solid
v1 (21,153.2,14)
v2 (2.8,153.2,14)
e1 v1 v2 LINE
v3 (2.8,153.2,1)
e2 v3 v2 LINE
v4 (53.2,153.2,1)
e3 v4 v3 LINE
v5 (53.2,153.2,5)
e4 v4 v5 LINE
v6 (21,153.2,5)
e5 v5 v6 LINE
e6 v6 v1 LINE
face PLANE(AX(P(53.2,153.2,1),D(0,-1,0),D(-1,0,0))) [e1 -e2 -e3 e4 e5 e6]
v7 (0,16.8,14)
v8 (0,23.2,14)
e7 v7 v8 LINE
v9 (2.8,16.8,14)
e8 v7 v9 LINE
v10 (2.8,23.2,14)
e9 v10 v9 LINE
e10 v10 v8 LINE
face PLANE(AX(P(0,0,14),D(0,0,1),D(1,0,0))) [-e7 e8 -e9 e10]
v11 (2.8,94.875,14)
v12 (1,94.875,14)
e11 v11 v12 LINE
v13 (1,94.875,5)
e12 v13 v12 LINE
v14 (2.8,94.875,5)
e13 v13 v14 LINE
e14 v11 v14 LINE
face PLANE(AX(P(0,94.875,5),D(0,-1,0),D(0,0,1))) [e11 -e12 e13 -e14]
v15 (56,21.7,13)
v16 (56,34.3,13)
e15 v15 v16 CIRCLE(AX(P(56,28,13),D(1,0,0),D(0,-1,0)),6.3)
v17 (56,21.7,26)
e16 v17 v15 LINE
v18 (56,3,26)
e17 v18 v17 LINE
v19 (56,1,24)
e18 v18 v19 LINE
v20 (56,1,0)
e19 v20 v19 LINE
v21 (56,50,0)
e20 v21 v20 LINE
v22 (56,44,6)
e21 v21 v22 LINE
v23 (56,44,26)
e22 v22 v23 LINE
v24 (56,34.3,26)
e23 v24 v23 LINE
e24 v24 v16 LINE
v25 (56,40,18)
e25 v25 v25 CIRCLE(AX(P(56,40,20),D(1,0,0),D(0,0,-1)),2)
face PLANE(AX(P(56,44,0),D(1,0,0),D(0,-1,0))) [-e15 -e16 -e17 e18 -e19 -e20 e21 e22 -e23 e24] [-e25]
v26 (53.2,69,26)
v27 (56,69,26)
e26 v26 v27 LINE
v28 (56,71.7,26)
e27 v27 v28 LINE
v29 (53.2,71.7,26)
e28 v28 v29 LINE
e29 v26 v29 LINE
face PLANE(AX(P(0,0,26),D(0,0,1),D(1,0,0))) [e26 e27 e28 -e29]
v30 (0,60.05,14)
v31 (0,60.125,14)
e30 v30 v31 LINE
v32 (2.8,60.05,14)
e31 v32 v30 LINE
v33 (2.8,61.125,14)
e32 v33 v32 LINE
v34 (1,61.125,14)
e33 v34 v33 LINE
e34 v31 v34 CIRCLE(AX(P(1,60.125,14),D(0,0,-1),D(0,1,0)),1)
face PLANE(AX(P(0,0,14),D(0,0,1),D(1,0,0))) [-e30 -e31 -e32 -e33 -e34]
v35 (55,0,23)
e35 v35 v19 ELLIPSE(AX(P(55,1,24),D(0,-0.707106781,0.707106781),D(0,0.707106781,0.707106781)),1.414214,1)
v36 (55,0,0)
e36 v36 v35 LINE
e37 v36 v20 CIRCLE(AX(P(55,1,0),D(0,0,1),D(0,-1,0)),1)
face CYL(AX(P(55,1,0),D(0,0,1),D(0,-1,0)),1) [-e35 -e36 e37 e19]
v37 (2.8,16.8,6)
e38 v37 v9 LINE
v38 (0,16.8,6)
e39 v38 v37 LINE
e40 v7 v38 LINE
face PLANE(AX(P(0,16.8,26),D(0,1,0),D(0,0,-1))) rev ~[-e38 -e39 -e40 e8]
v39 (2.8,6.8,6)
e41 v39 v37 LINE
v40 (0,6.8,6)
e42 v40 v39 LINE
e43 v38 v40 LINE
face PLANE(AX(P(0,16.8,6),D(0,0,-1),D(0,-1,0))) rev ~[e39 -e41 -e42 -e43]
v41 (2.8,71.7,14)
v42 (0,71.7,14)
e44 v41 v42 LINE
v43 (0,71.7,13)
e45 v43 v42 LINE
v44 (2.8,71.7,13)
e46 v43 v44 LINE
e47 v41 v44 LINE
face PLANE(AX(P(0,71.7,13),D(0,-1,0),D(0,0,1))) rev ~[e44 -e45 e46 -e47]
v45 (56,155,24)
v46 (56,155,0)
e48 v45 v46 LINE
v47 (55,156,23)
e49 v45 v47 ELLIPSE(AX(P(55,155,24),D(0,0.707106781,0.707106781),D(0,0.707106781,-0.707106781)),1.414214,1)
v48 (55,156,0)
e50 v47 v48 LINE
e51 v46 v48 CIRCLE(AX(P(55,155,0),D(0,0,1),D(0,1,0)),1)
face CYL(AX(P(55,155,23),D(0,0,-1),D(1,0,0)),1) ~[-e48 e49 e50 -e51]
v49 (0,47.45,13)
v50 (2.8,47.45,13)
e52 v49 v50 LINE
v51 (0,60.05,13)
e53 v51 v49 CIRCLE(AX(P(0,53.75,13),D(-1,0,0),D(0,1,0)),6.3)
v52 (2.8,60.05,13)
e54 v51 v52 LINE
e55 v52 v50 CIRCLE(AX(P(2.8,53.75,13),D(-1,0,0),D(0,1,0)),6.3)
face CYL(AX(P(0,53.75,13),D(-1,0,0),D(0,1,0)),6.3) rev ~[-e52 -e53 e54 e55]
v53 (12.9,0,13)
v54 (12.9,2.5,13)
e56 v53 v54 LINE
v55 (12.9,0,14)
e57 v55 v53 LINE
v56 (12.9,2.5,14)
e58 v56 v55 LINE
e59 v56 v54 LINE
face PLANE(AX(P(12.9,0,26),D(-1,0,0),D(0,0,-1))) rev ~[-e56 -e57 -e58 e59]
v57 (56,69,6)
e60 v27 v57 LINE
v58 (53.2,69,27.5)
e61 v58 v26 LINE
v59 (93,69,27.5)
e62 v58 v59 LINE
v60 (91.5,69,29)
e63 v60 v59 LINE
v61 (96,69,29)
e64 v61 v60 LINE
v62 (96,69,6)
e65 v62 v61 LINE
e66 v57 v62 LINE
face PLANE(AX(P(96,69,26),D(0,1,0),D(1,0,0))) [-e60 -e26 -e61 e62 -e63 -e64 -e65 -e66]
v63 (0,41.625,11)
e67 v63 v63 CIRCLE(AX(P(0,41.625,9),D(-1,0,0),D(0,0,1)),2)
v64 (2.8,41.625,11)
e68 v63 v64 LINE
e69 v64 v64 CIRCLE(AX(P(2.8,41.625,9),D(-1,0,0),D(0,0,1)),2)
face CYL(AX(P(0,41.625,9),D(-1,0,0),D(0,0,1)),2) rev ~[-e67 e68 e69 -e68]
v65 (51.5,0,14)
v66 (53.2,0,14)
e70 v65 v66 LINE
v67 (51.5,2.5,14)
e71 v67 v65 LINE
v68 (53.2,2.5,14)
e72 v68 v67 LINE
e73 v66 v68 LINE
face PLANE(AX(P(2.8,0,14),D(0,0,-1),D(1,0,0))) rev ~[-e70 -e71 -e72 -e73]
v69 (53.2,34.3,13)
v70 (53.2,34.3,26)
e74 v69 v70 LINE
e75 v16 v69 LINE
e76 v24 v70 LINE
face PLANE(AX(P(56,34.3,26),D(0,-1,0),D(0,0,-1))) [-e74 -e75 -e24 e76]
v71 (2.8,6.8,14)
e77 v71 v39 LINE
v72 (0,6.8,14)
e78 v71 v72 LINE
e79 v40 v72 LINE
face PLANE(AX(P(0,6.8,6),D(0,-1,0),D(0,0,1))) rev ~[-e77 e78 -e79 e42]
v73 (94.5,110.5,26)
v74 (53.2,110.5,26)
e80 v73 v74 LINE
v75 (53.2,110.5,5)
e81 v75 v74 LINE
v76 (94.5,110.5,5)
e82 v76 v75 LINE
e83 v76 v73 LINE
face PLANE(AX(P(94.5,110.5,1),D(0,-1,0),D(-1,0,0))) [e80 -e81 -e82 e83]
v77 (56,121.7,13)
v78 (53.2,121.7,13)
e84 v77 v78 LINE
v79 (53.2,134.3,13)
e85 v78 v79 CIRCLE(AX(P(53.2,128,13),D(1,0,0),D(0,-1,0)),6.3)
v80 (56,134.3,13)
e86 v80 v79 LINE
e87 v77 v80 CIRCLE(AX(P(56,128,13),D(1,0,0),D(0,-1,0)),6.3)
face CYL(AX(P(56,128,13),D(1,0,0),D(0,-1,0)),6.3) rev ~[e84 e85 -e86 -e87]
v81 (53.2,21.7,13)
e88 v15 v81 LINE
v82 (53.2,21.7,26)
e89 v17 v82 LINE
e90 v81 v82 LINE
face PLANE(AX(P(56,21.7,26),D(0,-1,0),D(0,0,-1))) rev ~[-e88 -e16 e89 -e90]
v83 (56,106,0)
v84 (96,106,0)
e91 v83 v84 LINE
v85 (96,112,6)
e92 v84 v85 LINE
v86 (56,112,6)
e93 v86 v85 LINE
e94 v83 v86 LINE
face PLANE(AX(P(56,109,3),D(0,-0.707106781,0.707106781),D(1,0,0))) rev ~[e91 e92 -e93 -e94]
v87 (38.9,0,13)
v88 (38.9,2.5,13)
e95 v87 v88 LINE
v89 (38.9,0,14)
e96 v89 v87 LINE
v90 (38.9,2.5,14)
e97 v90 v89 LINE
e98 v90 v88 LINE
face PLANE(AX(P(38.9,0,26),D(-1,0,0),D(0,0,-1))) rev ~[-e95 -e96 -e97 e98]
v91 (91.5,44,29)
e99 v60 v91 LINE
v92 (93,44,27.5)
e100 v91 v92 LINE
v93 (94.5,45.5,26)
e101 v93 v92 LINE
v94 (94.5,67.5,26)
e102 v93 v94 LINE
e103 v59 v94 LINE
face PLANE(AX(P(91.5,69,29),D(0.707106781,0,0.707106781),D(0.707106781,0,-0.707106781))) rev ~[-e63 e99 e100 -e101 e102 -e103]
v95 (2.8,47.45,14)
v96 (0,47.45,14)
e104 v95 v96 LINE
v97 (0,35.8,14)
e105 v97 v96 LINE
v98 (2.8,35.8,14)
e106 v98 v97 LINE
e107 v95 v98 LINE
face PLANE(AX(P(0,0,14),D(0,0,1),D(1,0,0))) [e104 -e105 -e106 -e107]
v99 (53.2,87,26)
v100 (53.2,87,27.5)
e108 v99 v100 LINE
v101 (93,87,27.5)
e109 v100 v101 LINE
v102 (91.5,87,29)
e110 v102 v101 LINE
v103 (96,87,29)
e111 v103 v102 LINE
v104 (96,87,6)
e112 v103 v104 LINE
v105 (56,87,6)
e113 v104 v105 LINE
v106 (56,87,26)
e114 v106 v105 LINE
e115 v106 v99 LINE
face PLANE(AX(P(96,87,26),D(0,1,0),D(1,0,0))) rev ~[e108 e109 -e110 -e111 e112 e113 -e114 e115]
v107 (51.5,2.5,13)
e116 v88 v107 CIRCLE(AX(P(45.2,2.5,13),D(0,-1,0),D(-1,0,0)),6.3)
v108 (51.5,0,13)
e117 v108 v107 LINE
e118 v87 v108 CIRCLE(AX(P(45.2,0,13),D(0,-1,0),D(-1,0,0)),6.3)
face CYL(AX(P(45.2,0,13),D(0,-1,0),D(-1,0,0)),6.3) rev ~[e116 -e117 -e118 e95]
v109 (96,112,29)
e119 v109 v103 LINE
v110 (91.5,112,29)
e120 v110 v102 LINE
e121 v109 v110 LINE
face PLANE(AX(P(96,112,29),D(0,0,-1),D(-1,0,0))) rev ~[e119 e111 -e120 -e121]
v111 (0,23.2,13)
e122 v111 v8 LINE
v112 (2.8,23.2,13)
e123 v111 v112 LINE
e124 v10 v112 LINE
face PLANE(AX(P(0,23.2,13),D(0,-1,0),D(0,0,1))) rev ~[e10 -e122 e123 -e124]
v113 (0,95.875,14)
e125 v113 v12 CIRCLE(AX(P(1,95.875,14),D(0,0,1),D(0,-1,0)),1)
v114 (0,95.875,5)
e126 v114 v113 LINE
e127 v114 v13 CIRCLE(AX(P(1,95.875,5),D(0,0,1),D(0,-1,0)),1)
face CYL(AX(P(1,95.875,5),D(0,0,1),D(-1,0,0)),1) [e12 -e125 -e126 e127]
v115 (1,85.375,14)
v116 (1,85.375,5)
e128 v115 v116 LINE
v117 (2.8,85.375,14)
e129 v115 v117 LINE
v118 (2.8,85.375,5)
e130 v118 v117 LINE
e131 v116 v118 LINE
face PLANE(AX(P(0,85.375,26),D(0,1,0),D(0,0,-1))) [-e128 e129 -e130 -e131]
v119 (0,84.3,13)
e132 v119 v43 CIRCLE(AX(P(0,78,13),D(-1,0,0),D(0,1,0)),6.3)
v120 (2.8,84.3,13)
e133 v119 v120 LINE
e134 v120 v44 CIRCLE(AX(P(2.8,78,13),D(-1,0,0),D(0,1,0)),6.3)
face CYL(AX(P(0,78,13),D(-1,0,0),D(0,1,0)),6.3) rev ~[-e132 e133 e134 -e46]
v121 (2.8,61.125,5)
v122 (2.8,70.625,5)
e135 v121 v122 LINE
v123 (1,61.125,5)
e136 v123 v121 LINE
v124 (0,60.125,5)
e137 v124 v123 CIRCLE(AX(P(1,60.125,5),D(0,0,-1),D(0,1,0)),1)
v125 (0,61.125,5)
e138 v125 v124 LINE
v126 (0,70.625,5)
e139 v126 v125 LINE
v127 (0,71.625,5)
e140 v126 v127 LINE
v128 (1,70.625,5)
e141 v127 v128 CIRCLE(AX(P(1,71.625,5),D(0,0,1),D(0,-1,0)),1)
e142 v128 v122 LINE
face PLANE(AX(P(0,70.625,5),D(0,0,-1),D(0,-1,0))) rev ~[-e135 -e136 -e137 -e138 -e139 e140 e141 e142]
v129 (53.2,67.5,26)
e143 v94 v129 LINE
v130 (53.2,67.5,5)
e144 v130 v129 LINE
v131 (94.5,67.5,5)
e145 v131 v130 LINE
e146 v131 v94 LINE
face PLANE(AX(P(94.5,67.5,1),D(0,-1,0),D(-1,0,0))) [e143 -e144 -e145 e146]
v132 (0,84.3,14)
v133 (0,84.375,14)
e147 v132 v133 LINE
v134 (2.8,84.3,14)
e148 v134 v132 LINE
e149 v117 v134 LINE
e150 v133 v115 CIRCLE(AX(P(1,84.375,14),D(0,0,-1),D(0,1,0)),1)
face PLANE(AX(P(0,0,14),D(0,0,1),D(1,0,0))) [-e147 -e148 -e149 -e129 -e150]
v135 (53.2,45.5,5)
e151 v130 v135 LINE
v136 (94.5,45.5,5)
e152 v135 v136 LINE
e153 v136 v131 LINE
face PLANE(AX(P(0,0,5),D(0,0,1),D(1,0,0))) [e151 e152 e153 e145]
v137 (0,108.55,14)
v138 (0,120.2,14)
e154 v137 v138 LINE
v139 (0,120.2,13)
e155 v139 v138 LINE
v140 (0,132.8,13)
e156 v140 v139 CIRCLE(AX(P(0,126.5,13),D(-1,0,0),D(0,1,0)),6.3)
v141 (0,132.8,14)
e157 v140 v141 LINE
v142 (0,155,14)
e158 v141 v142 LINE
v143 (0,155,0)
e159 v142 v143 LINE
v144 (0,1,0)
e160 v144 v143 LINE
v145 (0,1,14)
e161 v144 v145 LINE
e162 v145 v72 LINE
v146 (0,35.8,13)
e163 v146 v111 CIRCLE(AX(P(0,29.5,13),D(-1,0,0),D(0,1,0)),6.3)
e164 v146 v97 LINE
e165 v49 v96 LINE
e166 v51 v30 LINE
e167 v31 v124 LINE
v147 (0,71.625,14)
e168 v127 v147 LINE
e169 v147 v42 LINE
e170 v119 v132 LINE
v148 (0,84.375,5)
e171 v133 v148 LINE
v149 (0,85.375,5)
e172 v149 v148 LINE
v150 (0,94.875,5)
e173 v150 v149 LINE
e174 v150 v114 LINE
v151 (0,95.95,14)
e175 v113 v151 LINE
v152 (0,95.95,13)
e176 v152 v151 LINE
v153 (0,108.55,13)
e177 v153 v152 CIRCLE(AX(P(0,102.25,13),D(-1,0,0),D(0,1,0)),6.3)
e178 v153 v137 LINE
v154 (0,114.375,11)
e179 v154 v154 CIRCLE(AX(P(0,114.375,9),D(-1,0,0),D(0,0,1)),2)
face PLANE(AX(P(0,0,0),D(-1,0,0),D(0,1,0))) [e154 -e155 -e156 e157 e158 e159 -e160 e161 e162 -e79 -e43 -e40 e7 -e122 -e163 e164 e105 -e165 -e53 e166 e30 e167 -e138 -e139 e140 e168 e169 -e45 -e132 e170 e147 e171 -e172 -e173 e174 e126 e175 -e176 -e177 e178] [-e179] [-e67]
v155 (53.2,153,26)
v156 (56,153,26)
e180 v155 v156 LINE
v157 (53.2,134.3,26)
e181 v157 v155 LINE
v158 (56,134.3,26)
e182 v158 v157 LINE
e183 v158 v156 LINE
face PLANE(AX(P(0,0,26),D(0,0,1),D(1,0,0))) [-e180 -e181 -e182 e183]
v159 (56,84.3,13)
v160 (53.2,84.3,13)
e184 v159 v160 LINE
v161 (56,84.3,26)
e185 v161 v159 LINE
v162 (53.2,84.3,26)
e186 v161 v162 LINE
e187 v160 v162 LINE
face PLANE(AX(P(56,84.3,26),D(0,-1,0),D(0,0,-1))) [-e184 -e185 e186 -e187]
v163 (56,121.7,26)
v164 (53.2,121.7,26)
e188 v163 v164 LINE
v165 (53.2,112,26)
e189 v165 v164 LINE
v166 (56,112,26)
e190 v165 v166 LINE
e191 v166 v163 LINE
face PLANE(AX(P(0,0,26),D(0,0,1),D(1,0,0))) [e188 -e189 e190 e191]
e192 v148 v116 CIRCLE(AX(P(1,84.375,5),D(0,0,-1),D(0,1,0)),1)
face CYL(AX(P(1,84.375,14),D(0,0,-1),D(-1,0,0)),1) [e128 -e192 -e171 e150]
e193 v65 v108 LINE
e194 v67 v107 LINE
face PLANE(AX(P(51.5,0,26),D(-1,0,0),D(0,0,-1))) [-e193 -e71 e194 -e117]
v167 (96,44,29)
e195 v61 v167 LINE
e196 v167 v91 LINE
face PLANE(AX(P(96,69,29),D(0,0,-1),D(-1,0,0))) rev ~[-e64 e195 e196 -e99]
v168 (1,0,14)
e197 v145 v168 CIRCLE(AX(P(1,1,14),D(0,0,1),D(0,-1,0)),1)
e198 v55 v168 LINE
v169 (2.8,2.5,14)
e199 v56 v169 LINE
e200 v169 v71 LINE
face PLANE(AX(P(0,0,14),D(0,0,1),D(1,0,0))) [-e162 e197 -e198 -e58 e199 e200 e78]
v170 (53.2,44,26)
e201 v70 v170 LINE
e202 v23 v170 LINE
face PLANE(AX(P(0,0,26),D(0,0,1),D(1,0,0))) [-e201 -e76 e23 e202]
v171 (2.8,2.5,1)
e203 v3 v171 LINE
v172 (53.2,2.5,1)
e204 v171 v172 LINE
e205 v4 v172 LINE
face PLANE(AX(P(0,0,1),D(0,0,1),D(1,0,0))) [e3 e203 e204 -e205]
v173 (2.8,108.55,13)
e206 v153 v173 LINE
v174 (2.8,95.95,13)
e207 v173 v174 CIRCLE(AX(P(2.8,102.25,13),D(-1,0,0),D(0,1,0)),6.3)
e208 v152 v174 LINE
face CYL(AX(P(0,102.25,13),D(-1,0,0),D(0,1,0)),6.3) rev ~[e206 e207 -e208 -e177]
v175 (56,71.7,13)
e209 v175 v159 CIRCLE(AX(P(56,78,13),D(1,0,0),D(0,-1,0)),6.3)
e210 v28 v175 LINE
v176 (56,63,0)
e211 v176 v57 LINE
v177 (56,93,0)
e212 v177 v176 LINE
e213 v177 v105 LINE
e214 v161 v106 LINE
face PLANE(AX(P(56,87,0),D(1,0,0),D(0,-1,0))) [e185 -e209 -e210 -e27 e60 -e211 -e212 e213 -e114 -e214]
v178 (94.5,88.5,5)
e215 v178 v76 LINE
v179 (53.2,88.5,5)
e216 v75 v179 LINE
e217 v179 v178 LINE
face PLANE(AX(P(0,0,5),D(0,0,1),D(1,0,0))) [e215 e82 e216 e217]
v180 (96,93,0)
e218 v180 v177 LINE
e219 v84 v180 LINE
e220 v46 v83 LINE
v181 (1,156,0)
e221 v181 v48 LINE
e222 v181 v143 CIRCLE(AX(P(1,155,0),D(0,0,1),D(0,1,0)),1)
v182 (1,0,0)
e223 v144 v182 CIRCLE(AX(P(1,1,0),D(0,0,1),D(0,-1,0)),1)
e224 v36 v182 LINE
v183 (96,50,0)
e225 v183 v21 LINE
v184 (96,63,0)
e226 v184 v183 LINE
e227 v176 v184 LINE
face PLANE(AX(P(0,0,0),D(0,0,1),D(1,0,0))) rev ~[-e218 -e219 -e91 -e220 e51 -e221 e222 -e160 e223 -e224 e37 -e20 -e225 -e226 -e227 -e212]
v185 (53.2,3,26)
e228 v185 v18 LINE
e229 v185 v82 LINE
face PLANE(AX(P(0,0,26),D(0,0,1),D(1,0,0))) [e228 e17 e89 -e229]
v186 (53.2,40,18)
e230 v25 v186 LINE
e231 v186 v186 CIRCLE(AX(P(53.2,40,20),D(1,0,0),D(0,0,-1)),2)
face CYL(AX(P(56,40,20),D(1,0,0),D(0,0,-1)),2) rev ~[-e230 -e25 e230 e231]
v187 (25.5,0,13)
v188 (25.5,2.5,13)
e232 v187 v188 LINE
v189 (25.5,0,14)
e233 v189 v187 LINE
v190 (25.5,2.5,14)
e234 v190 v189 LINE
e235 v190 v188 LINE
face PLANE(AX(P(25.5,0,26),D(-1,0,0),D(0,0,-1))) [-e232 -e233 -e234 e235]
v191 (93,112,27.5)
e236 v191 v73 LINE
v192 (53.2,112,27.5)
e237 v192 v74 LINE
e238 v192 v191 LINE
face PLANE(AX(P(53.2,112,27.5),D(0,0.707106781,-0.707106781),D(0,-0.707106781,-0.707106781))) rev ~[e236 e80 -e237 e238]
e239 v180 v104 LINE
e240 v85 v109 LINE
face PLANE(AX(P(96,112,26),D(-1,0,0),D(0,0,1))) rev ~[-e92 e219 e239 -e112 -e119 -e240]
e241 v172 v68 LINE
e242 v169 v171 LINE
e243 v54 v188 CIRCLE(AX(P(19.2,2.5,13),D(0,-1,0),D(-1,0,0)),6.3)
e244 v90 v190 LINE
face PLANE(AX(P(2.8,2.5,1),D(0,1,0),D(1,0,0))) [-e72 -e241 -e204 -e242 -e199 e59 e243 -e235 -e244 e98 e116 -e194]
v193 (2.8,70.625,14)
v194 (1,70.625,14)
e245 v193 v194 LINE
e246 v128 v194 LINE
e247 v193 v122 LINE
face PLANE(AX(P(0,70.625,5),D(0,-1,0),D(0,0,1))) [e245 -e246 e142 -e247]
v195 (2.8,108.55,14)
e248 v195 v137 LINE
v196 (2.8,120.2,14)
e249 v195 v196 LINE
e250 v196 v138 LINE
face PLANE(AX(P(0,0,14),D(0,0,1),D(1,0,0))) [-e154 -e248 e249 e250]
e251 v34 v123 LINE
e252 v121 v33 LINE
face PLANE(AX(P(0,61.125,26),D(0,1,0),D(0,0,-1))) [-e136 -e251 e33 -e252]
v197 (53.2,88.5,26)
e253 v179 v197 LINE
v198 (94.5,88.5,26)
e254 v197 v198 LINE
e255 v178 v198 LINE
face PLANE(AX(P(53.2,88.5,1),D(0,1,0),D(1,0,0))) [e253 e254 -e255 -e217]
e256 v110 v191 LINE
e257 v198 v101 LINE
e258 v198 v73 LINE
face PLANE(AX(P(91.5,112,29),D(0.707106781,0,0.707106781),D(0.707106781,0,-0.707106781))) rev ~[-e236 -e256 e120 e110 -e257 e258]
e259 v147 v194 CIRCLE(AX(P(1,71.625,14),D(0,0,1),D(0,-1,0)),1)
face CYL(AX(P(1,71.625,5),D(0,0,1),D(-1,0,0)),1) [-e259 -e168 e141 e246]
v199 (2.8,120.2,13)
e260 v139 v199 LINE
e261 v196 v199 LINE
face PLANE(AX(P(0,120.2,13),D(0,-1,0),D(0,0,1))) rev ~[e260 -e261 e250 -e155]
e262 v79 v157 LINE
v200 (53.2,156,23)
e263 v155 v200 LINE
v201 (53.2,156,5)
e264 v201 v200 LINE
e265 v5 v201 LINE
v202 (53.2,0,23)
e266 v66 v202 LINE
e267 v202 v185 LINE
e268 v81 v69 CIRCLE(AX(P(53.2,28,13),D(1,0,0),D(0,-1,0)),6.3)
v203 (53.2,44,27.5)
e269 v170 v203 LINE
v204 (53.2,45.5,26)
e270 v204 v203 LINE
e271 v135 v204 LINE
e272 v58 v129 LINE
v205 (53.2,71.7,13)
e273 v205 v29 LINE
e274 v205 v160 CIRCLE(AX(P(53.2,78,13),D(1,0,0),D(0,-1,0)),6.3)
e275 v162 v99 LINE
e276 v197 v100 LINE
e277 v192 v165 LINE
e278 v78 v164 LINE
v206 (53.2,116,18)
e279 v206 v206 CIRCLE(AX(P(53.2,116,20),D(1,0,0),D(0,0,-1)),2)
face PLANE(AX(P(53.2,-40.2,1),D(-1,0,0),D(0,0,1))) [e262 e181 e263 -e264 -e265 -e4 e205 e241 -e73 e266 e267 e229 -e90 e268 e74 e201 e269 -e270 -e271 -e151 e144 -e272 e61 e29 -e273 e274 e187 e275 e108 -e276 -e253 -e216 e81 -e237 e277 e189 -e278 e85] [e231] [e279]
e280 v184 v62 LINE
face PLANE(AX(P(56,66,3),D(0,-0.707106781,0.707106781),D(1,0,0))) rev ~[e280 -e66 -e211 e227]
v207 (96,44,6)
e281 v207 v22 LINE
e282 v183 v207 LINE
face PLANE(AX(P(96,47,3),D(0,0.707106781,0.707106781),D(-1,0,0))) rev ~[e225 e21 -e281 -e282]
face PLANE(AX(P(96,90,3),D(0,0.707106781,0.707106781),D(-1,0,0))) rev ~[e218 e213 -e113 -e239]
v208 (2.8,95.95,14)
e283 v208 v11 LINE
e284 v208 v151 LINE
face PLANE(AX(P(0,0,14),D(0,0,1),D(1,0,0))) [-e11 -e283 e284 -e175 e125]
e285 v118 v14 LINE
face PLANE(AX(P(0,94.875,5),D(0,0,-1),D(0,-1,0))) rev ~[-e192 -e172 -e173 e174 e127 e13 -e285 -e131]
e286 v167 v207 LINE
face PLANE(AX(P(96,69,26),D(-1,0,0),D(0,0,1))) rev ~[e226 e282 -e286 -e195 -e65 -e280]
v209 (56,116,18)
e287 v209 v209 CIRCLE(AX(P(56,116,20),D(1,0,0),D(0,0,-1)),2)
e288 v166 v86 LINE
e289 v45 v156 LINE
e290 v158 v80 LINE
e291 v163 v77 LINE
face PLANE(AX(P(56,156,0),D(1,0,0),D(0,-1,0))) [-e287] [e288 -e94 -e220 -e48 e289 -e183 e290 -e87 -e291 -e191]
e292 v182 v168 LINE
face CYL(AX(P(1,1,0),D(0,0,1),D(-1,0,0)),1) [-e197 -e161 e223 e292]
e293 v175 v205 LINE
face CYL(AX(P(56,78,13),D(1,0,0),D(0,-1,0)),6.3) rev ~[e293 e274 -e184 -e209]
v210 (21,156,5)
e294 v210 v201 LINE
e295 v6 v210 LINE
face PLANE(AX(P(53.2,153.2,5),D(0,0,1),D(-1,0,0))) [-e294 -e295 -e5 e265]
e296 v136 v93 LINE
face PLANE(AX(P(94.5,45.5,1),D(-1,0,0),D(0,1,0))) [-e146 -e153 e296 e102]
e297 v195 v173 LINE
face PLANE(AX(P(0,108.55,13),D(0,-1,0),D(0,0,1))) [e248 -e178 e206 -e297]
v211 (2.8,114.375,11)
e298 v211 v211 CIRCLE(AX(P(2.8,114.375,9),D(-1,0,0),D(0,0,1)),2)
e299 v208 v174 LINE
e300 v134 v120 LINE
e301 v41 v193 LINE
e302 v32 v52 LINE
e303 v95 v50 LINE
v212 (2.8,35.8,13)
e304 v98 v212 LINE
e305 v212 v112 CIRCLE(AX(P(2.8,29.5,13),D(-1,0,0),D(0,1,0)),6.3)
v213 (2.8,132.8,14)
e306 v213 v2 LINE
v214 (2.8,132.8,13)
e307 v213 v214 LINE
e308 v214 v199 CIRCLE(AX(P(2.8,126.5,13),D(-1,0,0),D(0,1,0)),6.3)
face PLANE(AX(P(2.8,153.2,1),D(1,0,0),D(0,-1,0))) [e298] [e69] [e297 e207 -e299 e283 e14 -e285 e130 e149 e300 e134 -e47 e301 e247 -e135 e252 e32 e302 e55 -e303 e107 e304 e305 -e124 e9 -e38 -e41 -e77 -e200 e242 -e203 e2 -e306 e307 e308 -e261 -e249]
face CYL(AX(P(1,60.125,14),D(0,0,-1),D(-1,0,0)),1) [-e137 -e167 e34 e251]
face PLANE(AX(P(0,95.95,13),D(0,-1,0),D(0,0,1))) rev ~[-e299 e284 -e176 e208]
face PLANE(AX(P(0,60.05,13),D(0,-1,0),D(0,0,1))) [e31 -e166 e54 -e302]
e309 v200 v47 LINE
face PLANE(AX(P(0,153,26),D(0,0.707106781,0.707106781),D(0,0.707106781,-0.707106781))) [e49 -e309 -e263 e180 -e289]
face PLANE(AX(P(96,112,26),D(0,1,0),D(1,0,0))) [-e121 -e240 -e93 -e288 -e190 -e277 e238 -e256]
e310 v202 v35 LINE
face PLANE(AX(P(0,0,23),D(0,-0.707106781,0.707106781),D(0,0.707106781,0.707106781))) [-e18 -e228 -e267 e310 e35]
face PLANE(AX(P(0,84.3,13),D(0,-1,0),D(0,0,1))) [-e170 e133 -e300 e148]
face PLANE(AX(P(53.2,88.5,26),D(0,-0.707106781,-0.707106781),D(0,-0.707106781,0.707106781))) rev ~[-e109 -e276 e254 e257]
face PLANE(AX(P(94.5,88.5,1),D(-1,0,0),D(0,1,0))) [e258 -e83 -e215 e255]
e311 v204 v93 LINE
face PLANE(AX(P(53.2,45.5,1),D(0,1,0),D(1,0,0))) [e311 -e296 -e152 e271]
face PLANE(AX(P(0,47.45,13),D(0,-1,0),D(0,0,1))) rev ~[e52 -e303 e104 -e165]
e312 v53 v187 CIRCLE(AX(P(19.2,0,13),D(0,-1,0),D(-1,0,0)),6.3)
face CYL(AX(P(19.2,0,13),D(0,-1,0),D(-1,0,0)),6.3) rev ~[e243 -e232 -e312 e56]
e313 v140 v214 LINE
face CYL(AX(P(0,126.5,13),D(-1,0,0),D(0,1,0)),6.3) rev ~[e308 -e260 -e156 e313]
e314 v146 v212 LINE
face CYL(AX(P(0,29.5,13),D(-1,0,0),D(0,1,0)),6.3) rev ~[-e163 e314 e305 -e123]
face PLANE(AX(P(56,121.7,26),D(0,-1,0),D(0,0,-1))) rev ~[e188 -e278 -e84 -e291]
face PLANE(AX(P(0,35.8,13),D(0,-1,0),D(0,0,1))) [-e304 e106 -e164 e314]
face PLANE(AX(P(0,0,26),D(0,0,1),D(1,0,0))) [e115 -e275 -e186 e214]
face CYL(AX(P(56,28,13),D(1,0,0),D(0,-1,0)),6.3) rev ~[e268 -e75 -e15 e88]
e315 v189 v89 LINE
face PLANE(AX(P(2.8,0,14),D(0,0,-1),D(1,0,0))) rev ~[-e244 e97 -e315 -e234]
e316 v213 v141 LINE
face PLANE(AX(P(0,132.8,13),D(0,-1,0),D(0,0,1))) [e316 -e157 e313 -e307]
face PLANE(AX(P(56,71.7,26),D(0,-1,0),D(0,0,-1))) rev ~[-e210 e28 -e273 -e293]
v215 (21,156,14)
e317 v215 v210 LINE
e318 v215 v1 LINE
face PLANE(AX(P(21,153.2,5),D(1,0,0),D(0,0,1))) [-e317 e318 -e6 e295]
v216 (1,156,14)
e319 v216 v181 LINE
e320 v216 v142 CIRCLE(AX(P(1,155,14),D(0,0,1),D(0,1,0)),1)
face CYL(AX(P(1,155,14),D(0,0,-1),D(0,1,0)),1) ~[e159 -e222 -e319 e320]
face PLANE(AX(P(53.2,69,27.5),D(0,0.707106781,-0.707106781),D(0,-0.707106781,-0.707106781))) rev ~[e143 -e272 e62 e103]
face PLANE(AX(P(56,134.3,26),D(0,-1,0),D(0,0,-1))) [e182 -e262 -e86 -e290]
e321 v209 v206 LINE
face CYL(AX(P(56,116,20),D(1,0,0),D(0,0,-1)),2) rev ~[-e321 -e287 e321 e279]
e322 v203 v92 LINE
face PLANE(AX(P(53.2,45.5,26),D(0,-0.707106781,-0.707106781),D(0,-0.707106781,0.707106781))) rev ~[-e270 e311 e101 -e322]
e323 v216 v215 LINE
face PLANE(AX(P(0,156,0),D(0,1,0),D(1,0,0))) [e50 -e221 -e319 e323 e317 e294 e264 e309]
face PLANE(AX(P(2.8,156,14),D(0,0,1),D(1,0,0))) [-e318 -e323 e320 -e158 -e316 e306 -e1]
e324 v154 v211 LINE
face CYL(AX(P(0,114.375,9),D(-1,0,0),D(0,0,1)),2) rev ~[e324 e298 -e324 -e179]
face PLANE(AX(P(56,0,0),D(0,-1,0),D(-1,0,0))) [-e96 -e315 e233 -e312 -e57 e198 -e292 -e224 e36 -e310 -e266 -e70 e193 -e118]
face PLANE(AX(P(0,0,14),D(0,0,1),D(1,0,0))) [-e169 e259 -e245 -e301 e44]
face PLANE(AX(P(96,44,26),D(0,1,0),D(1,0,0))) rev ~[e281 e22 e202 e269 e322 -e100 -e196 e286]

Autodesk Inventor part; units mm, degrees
ref_plane "YZ Plane" through (0, 0, 0) normal (1, 0, 0) x (0, 1, 0)
ref_plane "XZ Plane" through (0, 0, 0) normal (0, 1, 0) x (-1, 0, 0)
ref_plane "XY Plane" through (0, 0, 0) normal (0, 0, 1) x (1, 0, 0)
sketch "Sketch1" plane through (0, 0, 0) normal (0, 0, 1) x (1, 0, 0)
  line L0 (0, 0) -> (0, 156)
  line L1 (0, 156) -> (56, 156)
  line L2 (56, 156) -> (56, 112)
  line L3 (56, 112) -> (96, 112)
  line L4 (96, 112) -> (96, 87)
  line L5 (96, 87) -> (56, 87)
  line L6 (56, 87) -> (56, 69)
  line L7 (56, 69) -> (96, 69)
  line L8 (96, 69) -> (96, 44)
  line L9 (96, 44) -> (56, 44)
  line L10 (56, 44) -> (56, 0)
  line L11 (56, 0) -> (0, 0)
  dimension "d0" = 156
  dimension "d1" = 56
  dimension "d2" = 44
  dimension "d3" = 44
  dimension "d4" = 25
  dimension "d5" = 25
  dimension "d6" = 40
extrude "Extrusion1" add sketch "Sketch1" along normal blind 1
sketch "Sketch2" plane through (0, 0, 1) normal (0, 0, 1) x (1, 0, 0)
  line L0 (2.8, 153.2) -> (2.8, 2.8)
  line L1 (2.8, 2.8) -> (53.2, 2.8)
  line L2 (53.2, 2.8) -> (53.2, 45.5)
  line L3 (53.2, 45.5) -> (94.5, 45.5)
  line L4 (94.5, 45.5) -> (94.5, 67.5)
  line L5 (94.5, 67.5) -> (53.2, 67.5)
  line L6 (53.2, 67.5) -> (53.2, 88.5)
  line L7 (53.2, 88.5) -> (94.5, 88.5)
  line L8 (94.5, 88.5) -> (94.5, 110.5)
  line L9 (94.5, 110.5) -> (53.2, 110.5)
  line L10 (53.2, 110.5) -> (53.2, 153.2)
  line L11 (53.2, 153.2) -> (2.8, 153.2)
  line L12 (56, 156) -> (0, 156) projected
  line L13 (0, 156) -> (0, 0) projected
  line L14 (0, 0) -> (56, 0) projected
  line L15 (56, 0) -> (56, 44) projected
  line L16 (96, 69) -> (56, 69) projected
  line L17 (56, 44) -> (96, 44) projected
  line L18 (96, 44) -> (96, 69) projected
  line L19 (96, 112) -> (56, 112) projected
  line L20 (56, 87) -> (96, 87) projected
  line L21 (56, 112) -> (56, 156) projected
  line L22 (0, 156) -> (56, 156)
  line L23 (56, 156) -> (56, 112)
  line L24 (56, 112) -> (96, 112)
  line L25 (96, 87) -> (96, 112) projected
  line L26 (96, 87) -> (56, 87)
  line L27 (56, 69) -> (56, 87) projected
  line L28 (56, 69) -> (96, 69)
  line L29 (96, 44) -> (96, 69) projected
  line L30 (96, 44) -> (56, 44)
  line L31 (56, 0) -> (0, 0)
  line L32 (0, 156) -> (0, 0)
  line L33 (56, 87) -> (56, 69)
  line L34 (96, 112) -> (96, 87)
  line L35 (96, 69) -> (96, 44)
  line L36 (56, 44) -> (56, 0)
  dimension "d9" = 2.8
  dimension "d10" = 2.8
  dimension "d11" = 2.8
  dimension "d12" = 2.8
  dimension "d13" = 1.5
  dimension "d14" = 1.5
  dimension "d15" = 1.5
  dimension "d16" = 1.5
  dimension "d17" = 1.5
extrude "Extrusion2" add sketch "Sketch2" along normal blind 25
sketch "Sketch3" plane through (0, 0, 1) normal (0, 0, 1) x (1, 0, 0)
  line L0 (53.2, 67.5) -> (53.2, 88.5) projected
  line L1 (94.5, 110.5) -> (53.2, 110.5)
  line L2 (53.2, 110.5) -> (53.2, 88.5)
  line L3 (53.2, 88.5) -> (94.5, 88.5)
  line L4 (94.5, 88.5) -> (94.5, 110.5)
  line L5 (94.5, 67.5) -> (53.2, 67.5) projected
  line L6 (53.2, 2.8) -> (53.2, 45.5) projected
  line L7 (94.5, 67.5) -> (53.2, 67.5)
  line L8 (53.2, 67.5) -> (53.2, 45.5)
  line L9 (53.2, 45.5) -> (94.5, 45.5)
  line L10 (94.5, 45.5) -> (94.5, 67.5)
  point P0 (0, 0)
  point P1 (53.2, 67.5)
extrude "Extrusion3" add sketch "Sketch3" along normal blind 4
sketch "Sketch4" plane through (0, 0, 0) normal (-1, 0, 0) x (0, 0, 1)
  arc A0 (13, 132.8) -> (13, 120.2) centre (13, 126.5) ccw
  line L0 (13, 132.8) -> (26, 132.8)
  line L1 (26, 132.8) -> (26, 120.2)
  line L2 (26, 156) -> (26, 0) projected
  line L3 (13, 120.2) -> (26, 120.2)
  line L4 (1, 2.8) -> (1, 153.2) projected
  line L5 (13, 120.2) -> (13, 132.8)
  line L6 (0, 112) -> (0, 156) projected
  point P0 (0, 0)
  point P1 (26, 153.2)
  dimension "d22" = 6.3
  dimension "d23" = 12
  dimension "d24" = 26.7
extrude "Extrusion4" cut sketch "Sketch4" against normal blind 10
pattern_linear "Rectangular Pattern1" count 5 spacing 24.25 along (0, -1, 0) of "Extrusion4"
sketch "Sketch6" plane through (56, 0, 0) normal (1, 0, 0) x (0, 0, -1)
  line L0 (-26, 0) -> (-26, 44) projected
  line L1 (-26, 21.7) -> (-26, 34.3)
  line L2 (-26, 34.3) -> (-13, 34.3)
  arc A0 (-13, 21.7) -> (-13, 34.3) centre (-13, 28) ccw
  line L3 (-26, 21.7) -> (-13, 21.7)
  line L4 (-1, 2.8) -> (-1, 153.2) projected
  point P0 (0, 0)
  point P1 (-26, 2.8)
  dimension "d30" = 6.3
  dimension "d31" = 12
  dimension "d32" = 25.2
extrude "Extrusion5" cut sketch "Sketch6" against normal blind 10
pattern_linear "Rectangular Pattern2" count 3 spacing 50 along (0, 1, 0) of "Extrusion5"
sketch "Sketch7" plane through (0, 0, 0) normal (0, -1, 0) x (1, 0, 0)
  line L0 (0, 26) -> (56, 26) projected
  line L1 (38.9, 26) -> (51.5, 26)
  line L2 (51.5, 26) -> (51.5, 13)
  arc A0 (38.9, 13) -> (51.5, 13) centre (45.2, 13) ccw
  line L3 (38.9, 26) -> (38.9, 13)
  line L4 (2.8, 1) -> (53.2, 1) projected
  point P0 (0, 0)
  point P1 (53.2, 26)
  dimension "d38" = 6.3
  dimension "d39" = 12
  dimension "d40" = 8
extrude "Extrusion6" cut sketch "Sketch7" against normal blind 10
pattern_linear "Rectangular Pattern3" count 2 spacing 26 along (-1, 0, 0) of "Extrusion6"
sketch "Sketch8" plane through (0, 156, 0) normal (0, 1, 0) x (1, 0, 0)
  line L0 (56, -26) -> (0, -26) projected
  line L1 (46.2, -26) -> (46.2, -9.5)
  line L2 (46.2, -26) -> (28.2, -26)
  line L3 (28.2, -26) -> (28.2, -9.5)
  arc A0 (46.2, -9.5) -> (43.7, -7) centre (43.7, -9.5) ccw
  line L4 (43.7, -7) -> (30.7, -7)
  arc A1 (30.7, -7) -> (28.2, -9.5) centre (30.7, -9.5) ccw
  line L5 (56, 0) -> (0, 0) projected
  point P0 (53.2, -26)
  dimension "d46" = 7
  dimension "d47" = 7
  dimension "d48" = 18
  dimension "d49" = 2.5
  dimension "d50" = 2.5
extrude "Extrusion7" cut sketch "Sketch8" against normal blind 10
sketch "Sketch9" plane through (0, 0, 0) normal (-1, 0, 0) x (0, 0, 1)
  line L0 (1, 153.2) -> (1, 2.8) projected
  line L1 (5, 94.875) -> (5, 85.375)
  line L2 (26, 85.375) -> (5, 85.375)
  line L3 (5, 94.875) -> (26, 94.875)
  line L4 (0, 156) -> (26, 156) projected
  line L5 (26, 94.875) -> (26, 85.375)
  line L6 (26, 95.95) -> (26, 84.3) projected
  line L7 (13, 84.3) -> (26, 84.3) projected
  line L8 (26, 95.95) -> (13, 95.95) projected
  point P0 (0, 0)
  point P1 (26, 153.2)
  point P2 (5, 90.125)
  dimension "d56" = 9.5
  dimension "d112" = 4
  dimension "d144" = 11.65
  dimension "d145" = 5.825
extrude "Extrusion8" cut sketch "Sketch9" against normal blind 10
pattern_linear "Rectangular Pattern4" count 2 spacing 24.25 along (0, -1, 0) of "Extrusion8"
sketch "Sketch10" plane through (0, 0, 0) normal (-1, 0, 0) x (0, 0, 1)
  line L0 (26, 23.2) -> (26, 0) projected
  line L1 (26, 16.8) -> (6, 16.8)
  line L2 (6, 16.8) -> (6, 6.8)
  line L3 (6, 6.8) -> (26, 6.8)
  line L4 (26, 6.8) -> (26, 16.8)
  line L5 (1, 153.2) -> (1, 2.8) projected
  point P0 (0, 0)
  point P1 (26, 2.8)
  point P2 (3, 64)
  point P3 (1, 2.8)
  point P4 (26, 6.8)
  dimension "d64" = 4
  dimension "d65" = 10
  dimension "d66" = 5
extrude "Extrusion9" cut sketch "Sketch10" against normal blind 10
sketch "Sketch11" plane through (0, 0, 0) normal (-1, 0, 0) x (0, 0, 1)
  line L0 (26, 156) -> (26, 132.8) projected
  line L1 (26, 153) -> (23, 156)
  line L2 (0, 156) -> (26, 156) projected
  line L3 (26, 156) -> (26, 153)
  line L4 (23, 156) -> (26, 156)
  point P0 (0, 0)
  dimension "d69" = 45
  dimension "d70" = 3
extrude "Extrusion10" cut sketch "Sketch11" against normal blind 60
sketch "Sketch12" plane through (0, 0, 0) normal (-1, 0, 0) x (0, 0, 1)
  line L0 (0, 0) -> (26, 0) projected
  line L1 (26, 0) -> (23, 0)
  line L2 (23, 0) -> (26, 3)
  line L3 (26, 21.7) -> (26, 2.8) projected
  line L4 (26, 0) -> (26, 2.8) projected
  line L5 (26, 0) -> (26, 3)
  dimension "d73" = 45
  dimension "d74" = 3
extrude "Extrusion11" cut sketch "Sketch12" against normal blind 60
chamfer "Chamfer1" distance 6 angle 45 4 edges at (76, 112, 0) (76, 87, 0) (76, 69, 0) (76, 44, 0)
sketch "Sketch15" plane through (96, 112, 26) normal (0, 1, 0) x (1, 0, 0)
  line L0 (0, 0) -> (0, -3)
  line L1 (0, -3) -> (-4.5, -3)
  line L2 (-1.5, 21) -> (-1.5, 0) projected
  line L3 (-4.5, -3) -> (-1.5, 0)
  line L4 (-1.5, 0) -> (0, 0)
  line L5 (0, 20) -> (0, 0) projected
  point P0 (-96, 26)
  point P1 (-1.5, 20.5)
  dimension "d86" = 3
  dimension "d87" = 135
extrude "Extrusion12" add sketch "Sketch15" against normal up to surface (25 mm away)
pattern_linear "Rectangular Pattern5" count 2 spacing 43 along (0, -1, 0) of "Extrusion12"
sketch "Sketch17" plane through (0, 0, 26) normal (0, 0, 1) x (1, 0, 0)
  point P0 (0, 0)
sketch "Sketch18" plane through (0, 0, 26) normal (0, 0, 1) x (1, 0, 0)
  line L0 (2.8, 0) -> (0, 0)
  line L1 (0, 0) -> (0, 156)
  line L2 (0, 156) -> (2.8, 156)
  line L3 (2.8, 156) -> (2.8, 0)
  line L4 (0, 153) -> (0, 132.8) projected
  line L5 (12.9, 0) -> (25.5, 0) projected
  line L6 (0, 156) -> (28.2, 156) projected
  line L7 (2.8, 108.55) -> (2.8, 120.2) projected
  point P0 (0, 0)
  point P1 (2, 0)
  point P2 (2, 156)
extrude "Extrusion13" cut sketch "Sketch18" against normal blind 12
sketch "Sketch19" plane through (53.2, 2.8, 1) normal (-1, 0, 0) x (0, 0, 1)
  line L0 (25, 84.2) -> (25, 85.7)
  line L1 (25, 84.2) -> (26.5, 84.2)
  line L2 (25, 85.7) -> (26.5, 84.2)
  line L3 (25, 107.7) -> (25, 109.2)
  line L4 (25, 118.9) -> (25, 107.7) projected
  line L5 (26.5, 109.2) -> (25, 107.7)
  line L6 (26.5, 109.2) -> (25, 109.2)
  point P0 (-1, -2.8)
  dimension "d100" = 45
  dimension "d105" = 1.5
  dimension "d106" = 1.5
  dimension "d110" = 1.5
  dimension "d111" = 1.5
extrude "Extrusion14" add sketch "Sketch19" against normal up to next
pattern_linear "Rectangular Pattern6" count 2 spacing 43 along (0, -1, 0) of "Extrusion14"
sketch "Sketch20" plane through (2.8, 153.2, 1) normal (0, -1, 0) x (1, 0, 0)
  point P0 (-2.8, -1)
sketch "Sketch21" plane through (2.8, 153.2, 1) normal (0, -1, 0) x (1, 0, 0)
  line L0 (51.1352, 4) -> (18.2, 4)
  line L1 (18.2, 4) -> (18.2, 24.8)
  line L2 (18.2, 24.8) -> (50.4, 24.8)
  line L3 (50.4, 24.8) -> (50.4, 2.2006)
  line L4 (25.4, 24.8) -> (0, 24.8) projected
  line L5 (50.4, 0) -> (50.4, 24.8) projected
  line L6 (50.4, 0) -> (0, 0) projected
  point P0 (-2.8, -1)
  point P1 (50.4, 4)
  dimension "d113" = 32.2
  dimension "d134" = 4
extrude "Extrusion15" cut sketch "Sketch21" against normal blind 3
sketch "Sketch22" plane through (0, 126.5, 13) normal (-1, 0, 0) x (0, 0, 1)
  circle A0 centre (-4, -12.125) radius 2
  circle A1 centre (-4, -84.875) radius 2
  line L0 (-4, -12.125) -> (1, -12.125)
  line L1 (1, -17.95) -> (1, -6.3) projected
  line L2 (-12, 26.7) -> (-12, -123.7) projected
  line L3 (-4, -84.875) -> (1, -84.875)
  line L4 (1, -90.7) -> (1, -79.05) projected
  point P0 (-13, -126.5)
  dimension "d116" = 4
  dimension "d117" = 4
  dimension "d119" = 8
  dimension "d120" = 8
extrude "Extrusion16" cut sketch "Sketch22" against normal blind 10
sketch "Sketch23" plane through (56, 128, 13) normal (1, 0, 0) x (0, 0, -1)
  circle A0 centre (-7, -12) radius 2
  circle A1 centre (-7, -88) radius 2
  line L0 (12, -125.2) -> (12, 25.2) projected
  line L1 (13, 28) -> (-10, 28) projected
  line L2 (13, -128) -> (-10, -128) projected
  dimension "d123" = 4
  dimension "d129" = 4
  dimension "d136" = 19
  dimension "d137" = 19
  dimension "d146" = 40
  dimension "d147" = 40
extrude "Extrusion17" cut sketch "Sketch23" against normal blind 10
sketch "Sketch24" plane through (2.8, 2.8, 1) normal (0, 1, 0) x (1, 0, 0)
  line L0 (0, 0) -> (50.4, 0) projected
  line L1 (50.4, 0) -> (50.4, -24.8) projected
  line L2 (0, 0) -> (50.4, 0)
  line L3 (50.4, 0) -> (50.4, -24.8)
  line L4 (50.4, -24.8) -> (0, -24.8)
  line L5 (0, -24.8) -> (0, 0)
  point P0 (-2.8, 1)
extrude "Extrusion18" cut sketch "Sketch24" against normal blind 0.3
sketch "Sketch25" plane through (53.2, 156, 23) normal (0, 1, 0) x (1, 0, 0)
  line L0 (-32.2, -2.8) -> (-32.2, 0) projected
  line L1 (-50.4, 9) -> (-32.2, 9)
  line L2 (-32.2, 9) -> (-32.2, -2.8)
  line L3 (-32.2, -2.8) -> (-50.4, -2.8)
  line L4 (-50.4, -2.8) -> (-50.4, 9)
  point P0 (-53.2, 23)
extrude "Extrusion19" cut sketch "Sketch25" against normal blind 10
sketch "Sketch26" plane through (45.2, 0, 13) normal (0, -1, 0) x (1, 0, 0)
  line L0 (8, -12) -> (8, 12.5) projected
  line L1 (-42.4, 1) -> (8, 1)
  line L2 (8, 1) -> (8, 12.5)
  line L3 (8, 12.5) -> (-42.4, 12.5)
  line L4 (-42.4, 12.5) -> (-42.4, 1)
  point P0 (-45.2, -13)
  point P1 (8, 1)
extrude "Extrusion20" cut sketch "Sketch26" against normal blind 10
fillet "Fillet2" radius 1 8 edges at (0, 156, 7) (56, 156, 11.5) (0, 0, 7) (56, 0, 11.5) (0, 94.875, 9.5) (0, 85.375, 9.5) (0, 70.625, 9.5) (0, 61.125, 9.5)
